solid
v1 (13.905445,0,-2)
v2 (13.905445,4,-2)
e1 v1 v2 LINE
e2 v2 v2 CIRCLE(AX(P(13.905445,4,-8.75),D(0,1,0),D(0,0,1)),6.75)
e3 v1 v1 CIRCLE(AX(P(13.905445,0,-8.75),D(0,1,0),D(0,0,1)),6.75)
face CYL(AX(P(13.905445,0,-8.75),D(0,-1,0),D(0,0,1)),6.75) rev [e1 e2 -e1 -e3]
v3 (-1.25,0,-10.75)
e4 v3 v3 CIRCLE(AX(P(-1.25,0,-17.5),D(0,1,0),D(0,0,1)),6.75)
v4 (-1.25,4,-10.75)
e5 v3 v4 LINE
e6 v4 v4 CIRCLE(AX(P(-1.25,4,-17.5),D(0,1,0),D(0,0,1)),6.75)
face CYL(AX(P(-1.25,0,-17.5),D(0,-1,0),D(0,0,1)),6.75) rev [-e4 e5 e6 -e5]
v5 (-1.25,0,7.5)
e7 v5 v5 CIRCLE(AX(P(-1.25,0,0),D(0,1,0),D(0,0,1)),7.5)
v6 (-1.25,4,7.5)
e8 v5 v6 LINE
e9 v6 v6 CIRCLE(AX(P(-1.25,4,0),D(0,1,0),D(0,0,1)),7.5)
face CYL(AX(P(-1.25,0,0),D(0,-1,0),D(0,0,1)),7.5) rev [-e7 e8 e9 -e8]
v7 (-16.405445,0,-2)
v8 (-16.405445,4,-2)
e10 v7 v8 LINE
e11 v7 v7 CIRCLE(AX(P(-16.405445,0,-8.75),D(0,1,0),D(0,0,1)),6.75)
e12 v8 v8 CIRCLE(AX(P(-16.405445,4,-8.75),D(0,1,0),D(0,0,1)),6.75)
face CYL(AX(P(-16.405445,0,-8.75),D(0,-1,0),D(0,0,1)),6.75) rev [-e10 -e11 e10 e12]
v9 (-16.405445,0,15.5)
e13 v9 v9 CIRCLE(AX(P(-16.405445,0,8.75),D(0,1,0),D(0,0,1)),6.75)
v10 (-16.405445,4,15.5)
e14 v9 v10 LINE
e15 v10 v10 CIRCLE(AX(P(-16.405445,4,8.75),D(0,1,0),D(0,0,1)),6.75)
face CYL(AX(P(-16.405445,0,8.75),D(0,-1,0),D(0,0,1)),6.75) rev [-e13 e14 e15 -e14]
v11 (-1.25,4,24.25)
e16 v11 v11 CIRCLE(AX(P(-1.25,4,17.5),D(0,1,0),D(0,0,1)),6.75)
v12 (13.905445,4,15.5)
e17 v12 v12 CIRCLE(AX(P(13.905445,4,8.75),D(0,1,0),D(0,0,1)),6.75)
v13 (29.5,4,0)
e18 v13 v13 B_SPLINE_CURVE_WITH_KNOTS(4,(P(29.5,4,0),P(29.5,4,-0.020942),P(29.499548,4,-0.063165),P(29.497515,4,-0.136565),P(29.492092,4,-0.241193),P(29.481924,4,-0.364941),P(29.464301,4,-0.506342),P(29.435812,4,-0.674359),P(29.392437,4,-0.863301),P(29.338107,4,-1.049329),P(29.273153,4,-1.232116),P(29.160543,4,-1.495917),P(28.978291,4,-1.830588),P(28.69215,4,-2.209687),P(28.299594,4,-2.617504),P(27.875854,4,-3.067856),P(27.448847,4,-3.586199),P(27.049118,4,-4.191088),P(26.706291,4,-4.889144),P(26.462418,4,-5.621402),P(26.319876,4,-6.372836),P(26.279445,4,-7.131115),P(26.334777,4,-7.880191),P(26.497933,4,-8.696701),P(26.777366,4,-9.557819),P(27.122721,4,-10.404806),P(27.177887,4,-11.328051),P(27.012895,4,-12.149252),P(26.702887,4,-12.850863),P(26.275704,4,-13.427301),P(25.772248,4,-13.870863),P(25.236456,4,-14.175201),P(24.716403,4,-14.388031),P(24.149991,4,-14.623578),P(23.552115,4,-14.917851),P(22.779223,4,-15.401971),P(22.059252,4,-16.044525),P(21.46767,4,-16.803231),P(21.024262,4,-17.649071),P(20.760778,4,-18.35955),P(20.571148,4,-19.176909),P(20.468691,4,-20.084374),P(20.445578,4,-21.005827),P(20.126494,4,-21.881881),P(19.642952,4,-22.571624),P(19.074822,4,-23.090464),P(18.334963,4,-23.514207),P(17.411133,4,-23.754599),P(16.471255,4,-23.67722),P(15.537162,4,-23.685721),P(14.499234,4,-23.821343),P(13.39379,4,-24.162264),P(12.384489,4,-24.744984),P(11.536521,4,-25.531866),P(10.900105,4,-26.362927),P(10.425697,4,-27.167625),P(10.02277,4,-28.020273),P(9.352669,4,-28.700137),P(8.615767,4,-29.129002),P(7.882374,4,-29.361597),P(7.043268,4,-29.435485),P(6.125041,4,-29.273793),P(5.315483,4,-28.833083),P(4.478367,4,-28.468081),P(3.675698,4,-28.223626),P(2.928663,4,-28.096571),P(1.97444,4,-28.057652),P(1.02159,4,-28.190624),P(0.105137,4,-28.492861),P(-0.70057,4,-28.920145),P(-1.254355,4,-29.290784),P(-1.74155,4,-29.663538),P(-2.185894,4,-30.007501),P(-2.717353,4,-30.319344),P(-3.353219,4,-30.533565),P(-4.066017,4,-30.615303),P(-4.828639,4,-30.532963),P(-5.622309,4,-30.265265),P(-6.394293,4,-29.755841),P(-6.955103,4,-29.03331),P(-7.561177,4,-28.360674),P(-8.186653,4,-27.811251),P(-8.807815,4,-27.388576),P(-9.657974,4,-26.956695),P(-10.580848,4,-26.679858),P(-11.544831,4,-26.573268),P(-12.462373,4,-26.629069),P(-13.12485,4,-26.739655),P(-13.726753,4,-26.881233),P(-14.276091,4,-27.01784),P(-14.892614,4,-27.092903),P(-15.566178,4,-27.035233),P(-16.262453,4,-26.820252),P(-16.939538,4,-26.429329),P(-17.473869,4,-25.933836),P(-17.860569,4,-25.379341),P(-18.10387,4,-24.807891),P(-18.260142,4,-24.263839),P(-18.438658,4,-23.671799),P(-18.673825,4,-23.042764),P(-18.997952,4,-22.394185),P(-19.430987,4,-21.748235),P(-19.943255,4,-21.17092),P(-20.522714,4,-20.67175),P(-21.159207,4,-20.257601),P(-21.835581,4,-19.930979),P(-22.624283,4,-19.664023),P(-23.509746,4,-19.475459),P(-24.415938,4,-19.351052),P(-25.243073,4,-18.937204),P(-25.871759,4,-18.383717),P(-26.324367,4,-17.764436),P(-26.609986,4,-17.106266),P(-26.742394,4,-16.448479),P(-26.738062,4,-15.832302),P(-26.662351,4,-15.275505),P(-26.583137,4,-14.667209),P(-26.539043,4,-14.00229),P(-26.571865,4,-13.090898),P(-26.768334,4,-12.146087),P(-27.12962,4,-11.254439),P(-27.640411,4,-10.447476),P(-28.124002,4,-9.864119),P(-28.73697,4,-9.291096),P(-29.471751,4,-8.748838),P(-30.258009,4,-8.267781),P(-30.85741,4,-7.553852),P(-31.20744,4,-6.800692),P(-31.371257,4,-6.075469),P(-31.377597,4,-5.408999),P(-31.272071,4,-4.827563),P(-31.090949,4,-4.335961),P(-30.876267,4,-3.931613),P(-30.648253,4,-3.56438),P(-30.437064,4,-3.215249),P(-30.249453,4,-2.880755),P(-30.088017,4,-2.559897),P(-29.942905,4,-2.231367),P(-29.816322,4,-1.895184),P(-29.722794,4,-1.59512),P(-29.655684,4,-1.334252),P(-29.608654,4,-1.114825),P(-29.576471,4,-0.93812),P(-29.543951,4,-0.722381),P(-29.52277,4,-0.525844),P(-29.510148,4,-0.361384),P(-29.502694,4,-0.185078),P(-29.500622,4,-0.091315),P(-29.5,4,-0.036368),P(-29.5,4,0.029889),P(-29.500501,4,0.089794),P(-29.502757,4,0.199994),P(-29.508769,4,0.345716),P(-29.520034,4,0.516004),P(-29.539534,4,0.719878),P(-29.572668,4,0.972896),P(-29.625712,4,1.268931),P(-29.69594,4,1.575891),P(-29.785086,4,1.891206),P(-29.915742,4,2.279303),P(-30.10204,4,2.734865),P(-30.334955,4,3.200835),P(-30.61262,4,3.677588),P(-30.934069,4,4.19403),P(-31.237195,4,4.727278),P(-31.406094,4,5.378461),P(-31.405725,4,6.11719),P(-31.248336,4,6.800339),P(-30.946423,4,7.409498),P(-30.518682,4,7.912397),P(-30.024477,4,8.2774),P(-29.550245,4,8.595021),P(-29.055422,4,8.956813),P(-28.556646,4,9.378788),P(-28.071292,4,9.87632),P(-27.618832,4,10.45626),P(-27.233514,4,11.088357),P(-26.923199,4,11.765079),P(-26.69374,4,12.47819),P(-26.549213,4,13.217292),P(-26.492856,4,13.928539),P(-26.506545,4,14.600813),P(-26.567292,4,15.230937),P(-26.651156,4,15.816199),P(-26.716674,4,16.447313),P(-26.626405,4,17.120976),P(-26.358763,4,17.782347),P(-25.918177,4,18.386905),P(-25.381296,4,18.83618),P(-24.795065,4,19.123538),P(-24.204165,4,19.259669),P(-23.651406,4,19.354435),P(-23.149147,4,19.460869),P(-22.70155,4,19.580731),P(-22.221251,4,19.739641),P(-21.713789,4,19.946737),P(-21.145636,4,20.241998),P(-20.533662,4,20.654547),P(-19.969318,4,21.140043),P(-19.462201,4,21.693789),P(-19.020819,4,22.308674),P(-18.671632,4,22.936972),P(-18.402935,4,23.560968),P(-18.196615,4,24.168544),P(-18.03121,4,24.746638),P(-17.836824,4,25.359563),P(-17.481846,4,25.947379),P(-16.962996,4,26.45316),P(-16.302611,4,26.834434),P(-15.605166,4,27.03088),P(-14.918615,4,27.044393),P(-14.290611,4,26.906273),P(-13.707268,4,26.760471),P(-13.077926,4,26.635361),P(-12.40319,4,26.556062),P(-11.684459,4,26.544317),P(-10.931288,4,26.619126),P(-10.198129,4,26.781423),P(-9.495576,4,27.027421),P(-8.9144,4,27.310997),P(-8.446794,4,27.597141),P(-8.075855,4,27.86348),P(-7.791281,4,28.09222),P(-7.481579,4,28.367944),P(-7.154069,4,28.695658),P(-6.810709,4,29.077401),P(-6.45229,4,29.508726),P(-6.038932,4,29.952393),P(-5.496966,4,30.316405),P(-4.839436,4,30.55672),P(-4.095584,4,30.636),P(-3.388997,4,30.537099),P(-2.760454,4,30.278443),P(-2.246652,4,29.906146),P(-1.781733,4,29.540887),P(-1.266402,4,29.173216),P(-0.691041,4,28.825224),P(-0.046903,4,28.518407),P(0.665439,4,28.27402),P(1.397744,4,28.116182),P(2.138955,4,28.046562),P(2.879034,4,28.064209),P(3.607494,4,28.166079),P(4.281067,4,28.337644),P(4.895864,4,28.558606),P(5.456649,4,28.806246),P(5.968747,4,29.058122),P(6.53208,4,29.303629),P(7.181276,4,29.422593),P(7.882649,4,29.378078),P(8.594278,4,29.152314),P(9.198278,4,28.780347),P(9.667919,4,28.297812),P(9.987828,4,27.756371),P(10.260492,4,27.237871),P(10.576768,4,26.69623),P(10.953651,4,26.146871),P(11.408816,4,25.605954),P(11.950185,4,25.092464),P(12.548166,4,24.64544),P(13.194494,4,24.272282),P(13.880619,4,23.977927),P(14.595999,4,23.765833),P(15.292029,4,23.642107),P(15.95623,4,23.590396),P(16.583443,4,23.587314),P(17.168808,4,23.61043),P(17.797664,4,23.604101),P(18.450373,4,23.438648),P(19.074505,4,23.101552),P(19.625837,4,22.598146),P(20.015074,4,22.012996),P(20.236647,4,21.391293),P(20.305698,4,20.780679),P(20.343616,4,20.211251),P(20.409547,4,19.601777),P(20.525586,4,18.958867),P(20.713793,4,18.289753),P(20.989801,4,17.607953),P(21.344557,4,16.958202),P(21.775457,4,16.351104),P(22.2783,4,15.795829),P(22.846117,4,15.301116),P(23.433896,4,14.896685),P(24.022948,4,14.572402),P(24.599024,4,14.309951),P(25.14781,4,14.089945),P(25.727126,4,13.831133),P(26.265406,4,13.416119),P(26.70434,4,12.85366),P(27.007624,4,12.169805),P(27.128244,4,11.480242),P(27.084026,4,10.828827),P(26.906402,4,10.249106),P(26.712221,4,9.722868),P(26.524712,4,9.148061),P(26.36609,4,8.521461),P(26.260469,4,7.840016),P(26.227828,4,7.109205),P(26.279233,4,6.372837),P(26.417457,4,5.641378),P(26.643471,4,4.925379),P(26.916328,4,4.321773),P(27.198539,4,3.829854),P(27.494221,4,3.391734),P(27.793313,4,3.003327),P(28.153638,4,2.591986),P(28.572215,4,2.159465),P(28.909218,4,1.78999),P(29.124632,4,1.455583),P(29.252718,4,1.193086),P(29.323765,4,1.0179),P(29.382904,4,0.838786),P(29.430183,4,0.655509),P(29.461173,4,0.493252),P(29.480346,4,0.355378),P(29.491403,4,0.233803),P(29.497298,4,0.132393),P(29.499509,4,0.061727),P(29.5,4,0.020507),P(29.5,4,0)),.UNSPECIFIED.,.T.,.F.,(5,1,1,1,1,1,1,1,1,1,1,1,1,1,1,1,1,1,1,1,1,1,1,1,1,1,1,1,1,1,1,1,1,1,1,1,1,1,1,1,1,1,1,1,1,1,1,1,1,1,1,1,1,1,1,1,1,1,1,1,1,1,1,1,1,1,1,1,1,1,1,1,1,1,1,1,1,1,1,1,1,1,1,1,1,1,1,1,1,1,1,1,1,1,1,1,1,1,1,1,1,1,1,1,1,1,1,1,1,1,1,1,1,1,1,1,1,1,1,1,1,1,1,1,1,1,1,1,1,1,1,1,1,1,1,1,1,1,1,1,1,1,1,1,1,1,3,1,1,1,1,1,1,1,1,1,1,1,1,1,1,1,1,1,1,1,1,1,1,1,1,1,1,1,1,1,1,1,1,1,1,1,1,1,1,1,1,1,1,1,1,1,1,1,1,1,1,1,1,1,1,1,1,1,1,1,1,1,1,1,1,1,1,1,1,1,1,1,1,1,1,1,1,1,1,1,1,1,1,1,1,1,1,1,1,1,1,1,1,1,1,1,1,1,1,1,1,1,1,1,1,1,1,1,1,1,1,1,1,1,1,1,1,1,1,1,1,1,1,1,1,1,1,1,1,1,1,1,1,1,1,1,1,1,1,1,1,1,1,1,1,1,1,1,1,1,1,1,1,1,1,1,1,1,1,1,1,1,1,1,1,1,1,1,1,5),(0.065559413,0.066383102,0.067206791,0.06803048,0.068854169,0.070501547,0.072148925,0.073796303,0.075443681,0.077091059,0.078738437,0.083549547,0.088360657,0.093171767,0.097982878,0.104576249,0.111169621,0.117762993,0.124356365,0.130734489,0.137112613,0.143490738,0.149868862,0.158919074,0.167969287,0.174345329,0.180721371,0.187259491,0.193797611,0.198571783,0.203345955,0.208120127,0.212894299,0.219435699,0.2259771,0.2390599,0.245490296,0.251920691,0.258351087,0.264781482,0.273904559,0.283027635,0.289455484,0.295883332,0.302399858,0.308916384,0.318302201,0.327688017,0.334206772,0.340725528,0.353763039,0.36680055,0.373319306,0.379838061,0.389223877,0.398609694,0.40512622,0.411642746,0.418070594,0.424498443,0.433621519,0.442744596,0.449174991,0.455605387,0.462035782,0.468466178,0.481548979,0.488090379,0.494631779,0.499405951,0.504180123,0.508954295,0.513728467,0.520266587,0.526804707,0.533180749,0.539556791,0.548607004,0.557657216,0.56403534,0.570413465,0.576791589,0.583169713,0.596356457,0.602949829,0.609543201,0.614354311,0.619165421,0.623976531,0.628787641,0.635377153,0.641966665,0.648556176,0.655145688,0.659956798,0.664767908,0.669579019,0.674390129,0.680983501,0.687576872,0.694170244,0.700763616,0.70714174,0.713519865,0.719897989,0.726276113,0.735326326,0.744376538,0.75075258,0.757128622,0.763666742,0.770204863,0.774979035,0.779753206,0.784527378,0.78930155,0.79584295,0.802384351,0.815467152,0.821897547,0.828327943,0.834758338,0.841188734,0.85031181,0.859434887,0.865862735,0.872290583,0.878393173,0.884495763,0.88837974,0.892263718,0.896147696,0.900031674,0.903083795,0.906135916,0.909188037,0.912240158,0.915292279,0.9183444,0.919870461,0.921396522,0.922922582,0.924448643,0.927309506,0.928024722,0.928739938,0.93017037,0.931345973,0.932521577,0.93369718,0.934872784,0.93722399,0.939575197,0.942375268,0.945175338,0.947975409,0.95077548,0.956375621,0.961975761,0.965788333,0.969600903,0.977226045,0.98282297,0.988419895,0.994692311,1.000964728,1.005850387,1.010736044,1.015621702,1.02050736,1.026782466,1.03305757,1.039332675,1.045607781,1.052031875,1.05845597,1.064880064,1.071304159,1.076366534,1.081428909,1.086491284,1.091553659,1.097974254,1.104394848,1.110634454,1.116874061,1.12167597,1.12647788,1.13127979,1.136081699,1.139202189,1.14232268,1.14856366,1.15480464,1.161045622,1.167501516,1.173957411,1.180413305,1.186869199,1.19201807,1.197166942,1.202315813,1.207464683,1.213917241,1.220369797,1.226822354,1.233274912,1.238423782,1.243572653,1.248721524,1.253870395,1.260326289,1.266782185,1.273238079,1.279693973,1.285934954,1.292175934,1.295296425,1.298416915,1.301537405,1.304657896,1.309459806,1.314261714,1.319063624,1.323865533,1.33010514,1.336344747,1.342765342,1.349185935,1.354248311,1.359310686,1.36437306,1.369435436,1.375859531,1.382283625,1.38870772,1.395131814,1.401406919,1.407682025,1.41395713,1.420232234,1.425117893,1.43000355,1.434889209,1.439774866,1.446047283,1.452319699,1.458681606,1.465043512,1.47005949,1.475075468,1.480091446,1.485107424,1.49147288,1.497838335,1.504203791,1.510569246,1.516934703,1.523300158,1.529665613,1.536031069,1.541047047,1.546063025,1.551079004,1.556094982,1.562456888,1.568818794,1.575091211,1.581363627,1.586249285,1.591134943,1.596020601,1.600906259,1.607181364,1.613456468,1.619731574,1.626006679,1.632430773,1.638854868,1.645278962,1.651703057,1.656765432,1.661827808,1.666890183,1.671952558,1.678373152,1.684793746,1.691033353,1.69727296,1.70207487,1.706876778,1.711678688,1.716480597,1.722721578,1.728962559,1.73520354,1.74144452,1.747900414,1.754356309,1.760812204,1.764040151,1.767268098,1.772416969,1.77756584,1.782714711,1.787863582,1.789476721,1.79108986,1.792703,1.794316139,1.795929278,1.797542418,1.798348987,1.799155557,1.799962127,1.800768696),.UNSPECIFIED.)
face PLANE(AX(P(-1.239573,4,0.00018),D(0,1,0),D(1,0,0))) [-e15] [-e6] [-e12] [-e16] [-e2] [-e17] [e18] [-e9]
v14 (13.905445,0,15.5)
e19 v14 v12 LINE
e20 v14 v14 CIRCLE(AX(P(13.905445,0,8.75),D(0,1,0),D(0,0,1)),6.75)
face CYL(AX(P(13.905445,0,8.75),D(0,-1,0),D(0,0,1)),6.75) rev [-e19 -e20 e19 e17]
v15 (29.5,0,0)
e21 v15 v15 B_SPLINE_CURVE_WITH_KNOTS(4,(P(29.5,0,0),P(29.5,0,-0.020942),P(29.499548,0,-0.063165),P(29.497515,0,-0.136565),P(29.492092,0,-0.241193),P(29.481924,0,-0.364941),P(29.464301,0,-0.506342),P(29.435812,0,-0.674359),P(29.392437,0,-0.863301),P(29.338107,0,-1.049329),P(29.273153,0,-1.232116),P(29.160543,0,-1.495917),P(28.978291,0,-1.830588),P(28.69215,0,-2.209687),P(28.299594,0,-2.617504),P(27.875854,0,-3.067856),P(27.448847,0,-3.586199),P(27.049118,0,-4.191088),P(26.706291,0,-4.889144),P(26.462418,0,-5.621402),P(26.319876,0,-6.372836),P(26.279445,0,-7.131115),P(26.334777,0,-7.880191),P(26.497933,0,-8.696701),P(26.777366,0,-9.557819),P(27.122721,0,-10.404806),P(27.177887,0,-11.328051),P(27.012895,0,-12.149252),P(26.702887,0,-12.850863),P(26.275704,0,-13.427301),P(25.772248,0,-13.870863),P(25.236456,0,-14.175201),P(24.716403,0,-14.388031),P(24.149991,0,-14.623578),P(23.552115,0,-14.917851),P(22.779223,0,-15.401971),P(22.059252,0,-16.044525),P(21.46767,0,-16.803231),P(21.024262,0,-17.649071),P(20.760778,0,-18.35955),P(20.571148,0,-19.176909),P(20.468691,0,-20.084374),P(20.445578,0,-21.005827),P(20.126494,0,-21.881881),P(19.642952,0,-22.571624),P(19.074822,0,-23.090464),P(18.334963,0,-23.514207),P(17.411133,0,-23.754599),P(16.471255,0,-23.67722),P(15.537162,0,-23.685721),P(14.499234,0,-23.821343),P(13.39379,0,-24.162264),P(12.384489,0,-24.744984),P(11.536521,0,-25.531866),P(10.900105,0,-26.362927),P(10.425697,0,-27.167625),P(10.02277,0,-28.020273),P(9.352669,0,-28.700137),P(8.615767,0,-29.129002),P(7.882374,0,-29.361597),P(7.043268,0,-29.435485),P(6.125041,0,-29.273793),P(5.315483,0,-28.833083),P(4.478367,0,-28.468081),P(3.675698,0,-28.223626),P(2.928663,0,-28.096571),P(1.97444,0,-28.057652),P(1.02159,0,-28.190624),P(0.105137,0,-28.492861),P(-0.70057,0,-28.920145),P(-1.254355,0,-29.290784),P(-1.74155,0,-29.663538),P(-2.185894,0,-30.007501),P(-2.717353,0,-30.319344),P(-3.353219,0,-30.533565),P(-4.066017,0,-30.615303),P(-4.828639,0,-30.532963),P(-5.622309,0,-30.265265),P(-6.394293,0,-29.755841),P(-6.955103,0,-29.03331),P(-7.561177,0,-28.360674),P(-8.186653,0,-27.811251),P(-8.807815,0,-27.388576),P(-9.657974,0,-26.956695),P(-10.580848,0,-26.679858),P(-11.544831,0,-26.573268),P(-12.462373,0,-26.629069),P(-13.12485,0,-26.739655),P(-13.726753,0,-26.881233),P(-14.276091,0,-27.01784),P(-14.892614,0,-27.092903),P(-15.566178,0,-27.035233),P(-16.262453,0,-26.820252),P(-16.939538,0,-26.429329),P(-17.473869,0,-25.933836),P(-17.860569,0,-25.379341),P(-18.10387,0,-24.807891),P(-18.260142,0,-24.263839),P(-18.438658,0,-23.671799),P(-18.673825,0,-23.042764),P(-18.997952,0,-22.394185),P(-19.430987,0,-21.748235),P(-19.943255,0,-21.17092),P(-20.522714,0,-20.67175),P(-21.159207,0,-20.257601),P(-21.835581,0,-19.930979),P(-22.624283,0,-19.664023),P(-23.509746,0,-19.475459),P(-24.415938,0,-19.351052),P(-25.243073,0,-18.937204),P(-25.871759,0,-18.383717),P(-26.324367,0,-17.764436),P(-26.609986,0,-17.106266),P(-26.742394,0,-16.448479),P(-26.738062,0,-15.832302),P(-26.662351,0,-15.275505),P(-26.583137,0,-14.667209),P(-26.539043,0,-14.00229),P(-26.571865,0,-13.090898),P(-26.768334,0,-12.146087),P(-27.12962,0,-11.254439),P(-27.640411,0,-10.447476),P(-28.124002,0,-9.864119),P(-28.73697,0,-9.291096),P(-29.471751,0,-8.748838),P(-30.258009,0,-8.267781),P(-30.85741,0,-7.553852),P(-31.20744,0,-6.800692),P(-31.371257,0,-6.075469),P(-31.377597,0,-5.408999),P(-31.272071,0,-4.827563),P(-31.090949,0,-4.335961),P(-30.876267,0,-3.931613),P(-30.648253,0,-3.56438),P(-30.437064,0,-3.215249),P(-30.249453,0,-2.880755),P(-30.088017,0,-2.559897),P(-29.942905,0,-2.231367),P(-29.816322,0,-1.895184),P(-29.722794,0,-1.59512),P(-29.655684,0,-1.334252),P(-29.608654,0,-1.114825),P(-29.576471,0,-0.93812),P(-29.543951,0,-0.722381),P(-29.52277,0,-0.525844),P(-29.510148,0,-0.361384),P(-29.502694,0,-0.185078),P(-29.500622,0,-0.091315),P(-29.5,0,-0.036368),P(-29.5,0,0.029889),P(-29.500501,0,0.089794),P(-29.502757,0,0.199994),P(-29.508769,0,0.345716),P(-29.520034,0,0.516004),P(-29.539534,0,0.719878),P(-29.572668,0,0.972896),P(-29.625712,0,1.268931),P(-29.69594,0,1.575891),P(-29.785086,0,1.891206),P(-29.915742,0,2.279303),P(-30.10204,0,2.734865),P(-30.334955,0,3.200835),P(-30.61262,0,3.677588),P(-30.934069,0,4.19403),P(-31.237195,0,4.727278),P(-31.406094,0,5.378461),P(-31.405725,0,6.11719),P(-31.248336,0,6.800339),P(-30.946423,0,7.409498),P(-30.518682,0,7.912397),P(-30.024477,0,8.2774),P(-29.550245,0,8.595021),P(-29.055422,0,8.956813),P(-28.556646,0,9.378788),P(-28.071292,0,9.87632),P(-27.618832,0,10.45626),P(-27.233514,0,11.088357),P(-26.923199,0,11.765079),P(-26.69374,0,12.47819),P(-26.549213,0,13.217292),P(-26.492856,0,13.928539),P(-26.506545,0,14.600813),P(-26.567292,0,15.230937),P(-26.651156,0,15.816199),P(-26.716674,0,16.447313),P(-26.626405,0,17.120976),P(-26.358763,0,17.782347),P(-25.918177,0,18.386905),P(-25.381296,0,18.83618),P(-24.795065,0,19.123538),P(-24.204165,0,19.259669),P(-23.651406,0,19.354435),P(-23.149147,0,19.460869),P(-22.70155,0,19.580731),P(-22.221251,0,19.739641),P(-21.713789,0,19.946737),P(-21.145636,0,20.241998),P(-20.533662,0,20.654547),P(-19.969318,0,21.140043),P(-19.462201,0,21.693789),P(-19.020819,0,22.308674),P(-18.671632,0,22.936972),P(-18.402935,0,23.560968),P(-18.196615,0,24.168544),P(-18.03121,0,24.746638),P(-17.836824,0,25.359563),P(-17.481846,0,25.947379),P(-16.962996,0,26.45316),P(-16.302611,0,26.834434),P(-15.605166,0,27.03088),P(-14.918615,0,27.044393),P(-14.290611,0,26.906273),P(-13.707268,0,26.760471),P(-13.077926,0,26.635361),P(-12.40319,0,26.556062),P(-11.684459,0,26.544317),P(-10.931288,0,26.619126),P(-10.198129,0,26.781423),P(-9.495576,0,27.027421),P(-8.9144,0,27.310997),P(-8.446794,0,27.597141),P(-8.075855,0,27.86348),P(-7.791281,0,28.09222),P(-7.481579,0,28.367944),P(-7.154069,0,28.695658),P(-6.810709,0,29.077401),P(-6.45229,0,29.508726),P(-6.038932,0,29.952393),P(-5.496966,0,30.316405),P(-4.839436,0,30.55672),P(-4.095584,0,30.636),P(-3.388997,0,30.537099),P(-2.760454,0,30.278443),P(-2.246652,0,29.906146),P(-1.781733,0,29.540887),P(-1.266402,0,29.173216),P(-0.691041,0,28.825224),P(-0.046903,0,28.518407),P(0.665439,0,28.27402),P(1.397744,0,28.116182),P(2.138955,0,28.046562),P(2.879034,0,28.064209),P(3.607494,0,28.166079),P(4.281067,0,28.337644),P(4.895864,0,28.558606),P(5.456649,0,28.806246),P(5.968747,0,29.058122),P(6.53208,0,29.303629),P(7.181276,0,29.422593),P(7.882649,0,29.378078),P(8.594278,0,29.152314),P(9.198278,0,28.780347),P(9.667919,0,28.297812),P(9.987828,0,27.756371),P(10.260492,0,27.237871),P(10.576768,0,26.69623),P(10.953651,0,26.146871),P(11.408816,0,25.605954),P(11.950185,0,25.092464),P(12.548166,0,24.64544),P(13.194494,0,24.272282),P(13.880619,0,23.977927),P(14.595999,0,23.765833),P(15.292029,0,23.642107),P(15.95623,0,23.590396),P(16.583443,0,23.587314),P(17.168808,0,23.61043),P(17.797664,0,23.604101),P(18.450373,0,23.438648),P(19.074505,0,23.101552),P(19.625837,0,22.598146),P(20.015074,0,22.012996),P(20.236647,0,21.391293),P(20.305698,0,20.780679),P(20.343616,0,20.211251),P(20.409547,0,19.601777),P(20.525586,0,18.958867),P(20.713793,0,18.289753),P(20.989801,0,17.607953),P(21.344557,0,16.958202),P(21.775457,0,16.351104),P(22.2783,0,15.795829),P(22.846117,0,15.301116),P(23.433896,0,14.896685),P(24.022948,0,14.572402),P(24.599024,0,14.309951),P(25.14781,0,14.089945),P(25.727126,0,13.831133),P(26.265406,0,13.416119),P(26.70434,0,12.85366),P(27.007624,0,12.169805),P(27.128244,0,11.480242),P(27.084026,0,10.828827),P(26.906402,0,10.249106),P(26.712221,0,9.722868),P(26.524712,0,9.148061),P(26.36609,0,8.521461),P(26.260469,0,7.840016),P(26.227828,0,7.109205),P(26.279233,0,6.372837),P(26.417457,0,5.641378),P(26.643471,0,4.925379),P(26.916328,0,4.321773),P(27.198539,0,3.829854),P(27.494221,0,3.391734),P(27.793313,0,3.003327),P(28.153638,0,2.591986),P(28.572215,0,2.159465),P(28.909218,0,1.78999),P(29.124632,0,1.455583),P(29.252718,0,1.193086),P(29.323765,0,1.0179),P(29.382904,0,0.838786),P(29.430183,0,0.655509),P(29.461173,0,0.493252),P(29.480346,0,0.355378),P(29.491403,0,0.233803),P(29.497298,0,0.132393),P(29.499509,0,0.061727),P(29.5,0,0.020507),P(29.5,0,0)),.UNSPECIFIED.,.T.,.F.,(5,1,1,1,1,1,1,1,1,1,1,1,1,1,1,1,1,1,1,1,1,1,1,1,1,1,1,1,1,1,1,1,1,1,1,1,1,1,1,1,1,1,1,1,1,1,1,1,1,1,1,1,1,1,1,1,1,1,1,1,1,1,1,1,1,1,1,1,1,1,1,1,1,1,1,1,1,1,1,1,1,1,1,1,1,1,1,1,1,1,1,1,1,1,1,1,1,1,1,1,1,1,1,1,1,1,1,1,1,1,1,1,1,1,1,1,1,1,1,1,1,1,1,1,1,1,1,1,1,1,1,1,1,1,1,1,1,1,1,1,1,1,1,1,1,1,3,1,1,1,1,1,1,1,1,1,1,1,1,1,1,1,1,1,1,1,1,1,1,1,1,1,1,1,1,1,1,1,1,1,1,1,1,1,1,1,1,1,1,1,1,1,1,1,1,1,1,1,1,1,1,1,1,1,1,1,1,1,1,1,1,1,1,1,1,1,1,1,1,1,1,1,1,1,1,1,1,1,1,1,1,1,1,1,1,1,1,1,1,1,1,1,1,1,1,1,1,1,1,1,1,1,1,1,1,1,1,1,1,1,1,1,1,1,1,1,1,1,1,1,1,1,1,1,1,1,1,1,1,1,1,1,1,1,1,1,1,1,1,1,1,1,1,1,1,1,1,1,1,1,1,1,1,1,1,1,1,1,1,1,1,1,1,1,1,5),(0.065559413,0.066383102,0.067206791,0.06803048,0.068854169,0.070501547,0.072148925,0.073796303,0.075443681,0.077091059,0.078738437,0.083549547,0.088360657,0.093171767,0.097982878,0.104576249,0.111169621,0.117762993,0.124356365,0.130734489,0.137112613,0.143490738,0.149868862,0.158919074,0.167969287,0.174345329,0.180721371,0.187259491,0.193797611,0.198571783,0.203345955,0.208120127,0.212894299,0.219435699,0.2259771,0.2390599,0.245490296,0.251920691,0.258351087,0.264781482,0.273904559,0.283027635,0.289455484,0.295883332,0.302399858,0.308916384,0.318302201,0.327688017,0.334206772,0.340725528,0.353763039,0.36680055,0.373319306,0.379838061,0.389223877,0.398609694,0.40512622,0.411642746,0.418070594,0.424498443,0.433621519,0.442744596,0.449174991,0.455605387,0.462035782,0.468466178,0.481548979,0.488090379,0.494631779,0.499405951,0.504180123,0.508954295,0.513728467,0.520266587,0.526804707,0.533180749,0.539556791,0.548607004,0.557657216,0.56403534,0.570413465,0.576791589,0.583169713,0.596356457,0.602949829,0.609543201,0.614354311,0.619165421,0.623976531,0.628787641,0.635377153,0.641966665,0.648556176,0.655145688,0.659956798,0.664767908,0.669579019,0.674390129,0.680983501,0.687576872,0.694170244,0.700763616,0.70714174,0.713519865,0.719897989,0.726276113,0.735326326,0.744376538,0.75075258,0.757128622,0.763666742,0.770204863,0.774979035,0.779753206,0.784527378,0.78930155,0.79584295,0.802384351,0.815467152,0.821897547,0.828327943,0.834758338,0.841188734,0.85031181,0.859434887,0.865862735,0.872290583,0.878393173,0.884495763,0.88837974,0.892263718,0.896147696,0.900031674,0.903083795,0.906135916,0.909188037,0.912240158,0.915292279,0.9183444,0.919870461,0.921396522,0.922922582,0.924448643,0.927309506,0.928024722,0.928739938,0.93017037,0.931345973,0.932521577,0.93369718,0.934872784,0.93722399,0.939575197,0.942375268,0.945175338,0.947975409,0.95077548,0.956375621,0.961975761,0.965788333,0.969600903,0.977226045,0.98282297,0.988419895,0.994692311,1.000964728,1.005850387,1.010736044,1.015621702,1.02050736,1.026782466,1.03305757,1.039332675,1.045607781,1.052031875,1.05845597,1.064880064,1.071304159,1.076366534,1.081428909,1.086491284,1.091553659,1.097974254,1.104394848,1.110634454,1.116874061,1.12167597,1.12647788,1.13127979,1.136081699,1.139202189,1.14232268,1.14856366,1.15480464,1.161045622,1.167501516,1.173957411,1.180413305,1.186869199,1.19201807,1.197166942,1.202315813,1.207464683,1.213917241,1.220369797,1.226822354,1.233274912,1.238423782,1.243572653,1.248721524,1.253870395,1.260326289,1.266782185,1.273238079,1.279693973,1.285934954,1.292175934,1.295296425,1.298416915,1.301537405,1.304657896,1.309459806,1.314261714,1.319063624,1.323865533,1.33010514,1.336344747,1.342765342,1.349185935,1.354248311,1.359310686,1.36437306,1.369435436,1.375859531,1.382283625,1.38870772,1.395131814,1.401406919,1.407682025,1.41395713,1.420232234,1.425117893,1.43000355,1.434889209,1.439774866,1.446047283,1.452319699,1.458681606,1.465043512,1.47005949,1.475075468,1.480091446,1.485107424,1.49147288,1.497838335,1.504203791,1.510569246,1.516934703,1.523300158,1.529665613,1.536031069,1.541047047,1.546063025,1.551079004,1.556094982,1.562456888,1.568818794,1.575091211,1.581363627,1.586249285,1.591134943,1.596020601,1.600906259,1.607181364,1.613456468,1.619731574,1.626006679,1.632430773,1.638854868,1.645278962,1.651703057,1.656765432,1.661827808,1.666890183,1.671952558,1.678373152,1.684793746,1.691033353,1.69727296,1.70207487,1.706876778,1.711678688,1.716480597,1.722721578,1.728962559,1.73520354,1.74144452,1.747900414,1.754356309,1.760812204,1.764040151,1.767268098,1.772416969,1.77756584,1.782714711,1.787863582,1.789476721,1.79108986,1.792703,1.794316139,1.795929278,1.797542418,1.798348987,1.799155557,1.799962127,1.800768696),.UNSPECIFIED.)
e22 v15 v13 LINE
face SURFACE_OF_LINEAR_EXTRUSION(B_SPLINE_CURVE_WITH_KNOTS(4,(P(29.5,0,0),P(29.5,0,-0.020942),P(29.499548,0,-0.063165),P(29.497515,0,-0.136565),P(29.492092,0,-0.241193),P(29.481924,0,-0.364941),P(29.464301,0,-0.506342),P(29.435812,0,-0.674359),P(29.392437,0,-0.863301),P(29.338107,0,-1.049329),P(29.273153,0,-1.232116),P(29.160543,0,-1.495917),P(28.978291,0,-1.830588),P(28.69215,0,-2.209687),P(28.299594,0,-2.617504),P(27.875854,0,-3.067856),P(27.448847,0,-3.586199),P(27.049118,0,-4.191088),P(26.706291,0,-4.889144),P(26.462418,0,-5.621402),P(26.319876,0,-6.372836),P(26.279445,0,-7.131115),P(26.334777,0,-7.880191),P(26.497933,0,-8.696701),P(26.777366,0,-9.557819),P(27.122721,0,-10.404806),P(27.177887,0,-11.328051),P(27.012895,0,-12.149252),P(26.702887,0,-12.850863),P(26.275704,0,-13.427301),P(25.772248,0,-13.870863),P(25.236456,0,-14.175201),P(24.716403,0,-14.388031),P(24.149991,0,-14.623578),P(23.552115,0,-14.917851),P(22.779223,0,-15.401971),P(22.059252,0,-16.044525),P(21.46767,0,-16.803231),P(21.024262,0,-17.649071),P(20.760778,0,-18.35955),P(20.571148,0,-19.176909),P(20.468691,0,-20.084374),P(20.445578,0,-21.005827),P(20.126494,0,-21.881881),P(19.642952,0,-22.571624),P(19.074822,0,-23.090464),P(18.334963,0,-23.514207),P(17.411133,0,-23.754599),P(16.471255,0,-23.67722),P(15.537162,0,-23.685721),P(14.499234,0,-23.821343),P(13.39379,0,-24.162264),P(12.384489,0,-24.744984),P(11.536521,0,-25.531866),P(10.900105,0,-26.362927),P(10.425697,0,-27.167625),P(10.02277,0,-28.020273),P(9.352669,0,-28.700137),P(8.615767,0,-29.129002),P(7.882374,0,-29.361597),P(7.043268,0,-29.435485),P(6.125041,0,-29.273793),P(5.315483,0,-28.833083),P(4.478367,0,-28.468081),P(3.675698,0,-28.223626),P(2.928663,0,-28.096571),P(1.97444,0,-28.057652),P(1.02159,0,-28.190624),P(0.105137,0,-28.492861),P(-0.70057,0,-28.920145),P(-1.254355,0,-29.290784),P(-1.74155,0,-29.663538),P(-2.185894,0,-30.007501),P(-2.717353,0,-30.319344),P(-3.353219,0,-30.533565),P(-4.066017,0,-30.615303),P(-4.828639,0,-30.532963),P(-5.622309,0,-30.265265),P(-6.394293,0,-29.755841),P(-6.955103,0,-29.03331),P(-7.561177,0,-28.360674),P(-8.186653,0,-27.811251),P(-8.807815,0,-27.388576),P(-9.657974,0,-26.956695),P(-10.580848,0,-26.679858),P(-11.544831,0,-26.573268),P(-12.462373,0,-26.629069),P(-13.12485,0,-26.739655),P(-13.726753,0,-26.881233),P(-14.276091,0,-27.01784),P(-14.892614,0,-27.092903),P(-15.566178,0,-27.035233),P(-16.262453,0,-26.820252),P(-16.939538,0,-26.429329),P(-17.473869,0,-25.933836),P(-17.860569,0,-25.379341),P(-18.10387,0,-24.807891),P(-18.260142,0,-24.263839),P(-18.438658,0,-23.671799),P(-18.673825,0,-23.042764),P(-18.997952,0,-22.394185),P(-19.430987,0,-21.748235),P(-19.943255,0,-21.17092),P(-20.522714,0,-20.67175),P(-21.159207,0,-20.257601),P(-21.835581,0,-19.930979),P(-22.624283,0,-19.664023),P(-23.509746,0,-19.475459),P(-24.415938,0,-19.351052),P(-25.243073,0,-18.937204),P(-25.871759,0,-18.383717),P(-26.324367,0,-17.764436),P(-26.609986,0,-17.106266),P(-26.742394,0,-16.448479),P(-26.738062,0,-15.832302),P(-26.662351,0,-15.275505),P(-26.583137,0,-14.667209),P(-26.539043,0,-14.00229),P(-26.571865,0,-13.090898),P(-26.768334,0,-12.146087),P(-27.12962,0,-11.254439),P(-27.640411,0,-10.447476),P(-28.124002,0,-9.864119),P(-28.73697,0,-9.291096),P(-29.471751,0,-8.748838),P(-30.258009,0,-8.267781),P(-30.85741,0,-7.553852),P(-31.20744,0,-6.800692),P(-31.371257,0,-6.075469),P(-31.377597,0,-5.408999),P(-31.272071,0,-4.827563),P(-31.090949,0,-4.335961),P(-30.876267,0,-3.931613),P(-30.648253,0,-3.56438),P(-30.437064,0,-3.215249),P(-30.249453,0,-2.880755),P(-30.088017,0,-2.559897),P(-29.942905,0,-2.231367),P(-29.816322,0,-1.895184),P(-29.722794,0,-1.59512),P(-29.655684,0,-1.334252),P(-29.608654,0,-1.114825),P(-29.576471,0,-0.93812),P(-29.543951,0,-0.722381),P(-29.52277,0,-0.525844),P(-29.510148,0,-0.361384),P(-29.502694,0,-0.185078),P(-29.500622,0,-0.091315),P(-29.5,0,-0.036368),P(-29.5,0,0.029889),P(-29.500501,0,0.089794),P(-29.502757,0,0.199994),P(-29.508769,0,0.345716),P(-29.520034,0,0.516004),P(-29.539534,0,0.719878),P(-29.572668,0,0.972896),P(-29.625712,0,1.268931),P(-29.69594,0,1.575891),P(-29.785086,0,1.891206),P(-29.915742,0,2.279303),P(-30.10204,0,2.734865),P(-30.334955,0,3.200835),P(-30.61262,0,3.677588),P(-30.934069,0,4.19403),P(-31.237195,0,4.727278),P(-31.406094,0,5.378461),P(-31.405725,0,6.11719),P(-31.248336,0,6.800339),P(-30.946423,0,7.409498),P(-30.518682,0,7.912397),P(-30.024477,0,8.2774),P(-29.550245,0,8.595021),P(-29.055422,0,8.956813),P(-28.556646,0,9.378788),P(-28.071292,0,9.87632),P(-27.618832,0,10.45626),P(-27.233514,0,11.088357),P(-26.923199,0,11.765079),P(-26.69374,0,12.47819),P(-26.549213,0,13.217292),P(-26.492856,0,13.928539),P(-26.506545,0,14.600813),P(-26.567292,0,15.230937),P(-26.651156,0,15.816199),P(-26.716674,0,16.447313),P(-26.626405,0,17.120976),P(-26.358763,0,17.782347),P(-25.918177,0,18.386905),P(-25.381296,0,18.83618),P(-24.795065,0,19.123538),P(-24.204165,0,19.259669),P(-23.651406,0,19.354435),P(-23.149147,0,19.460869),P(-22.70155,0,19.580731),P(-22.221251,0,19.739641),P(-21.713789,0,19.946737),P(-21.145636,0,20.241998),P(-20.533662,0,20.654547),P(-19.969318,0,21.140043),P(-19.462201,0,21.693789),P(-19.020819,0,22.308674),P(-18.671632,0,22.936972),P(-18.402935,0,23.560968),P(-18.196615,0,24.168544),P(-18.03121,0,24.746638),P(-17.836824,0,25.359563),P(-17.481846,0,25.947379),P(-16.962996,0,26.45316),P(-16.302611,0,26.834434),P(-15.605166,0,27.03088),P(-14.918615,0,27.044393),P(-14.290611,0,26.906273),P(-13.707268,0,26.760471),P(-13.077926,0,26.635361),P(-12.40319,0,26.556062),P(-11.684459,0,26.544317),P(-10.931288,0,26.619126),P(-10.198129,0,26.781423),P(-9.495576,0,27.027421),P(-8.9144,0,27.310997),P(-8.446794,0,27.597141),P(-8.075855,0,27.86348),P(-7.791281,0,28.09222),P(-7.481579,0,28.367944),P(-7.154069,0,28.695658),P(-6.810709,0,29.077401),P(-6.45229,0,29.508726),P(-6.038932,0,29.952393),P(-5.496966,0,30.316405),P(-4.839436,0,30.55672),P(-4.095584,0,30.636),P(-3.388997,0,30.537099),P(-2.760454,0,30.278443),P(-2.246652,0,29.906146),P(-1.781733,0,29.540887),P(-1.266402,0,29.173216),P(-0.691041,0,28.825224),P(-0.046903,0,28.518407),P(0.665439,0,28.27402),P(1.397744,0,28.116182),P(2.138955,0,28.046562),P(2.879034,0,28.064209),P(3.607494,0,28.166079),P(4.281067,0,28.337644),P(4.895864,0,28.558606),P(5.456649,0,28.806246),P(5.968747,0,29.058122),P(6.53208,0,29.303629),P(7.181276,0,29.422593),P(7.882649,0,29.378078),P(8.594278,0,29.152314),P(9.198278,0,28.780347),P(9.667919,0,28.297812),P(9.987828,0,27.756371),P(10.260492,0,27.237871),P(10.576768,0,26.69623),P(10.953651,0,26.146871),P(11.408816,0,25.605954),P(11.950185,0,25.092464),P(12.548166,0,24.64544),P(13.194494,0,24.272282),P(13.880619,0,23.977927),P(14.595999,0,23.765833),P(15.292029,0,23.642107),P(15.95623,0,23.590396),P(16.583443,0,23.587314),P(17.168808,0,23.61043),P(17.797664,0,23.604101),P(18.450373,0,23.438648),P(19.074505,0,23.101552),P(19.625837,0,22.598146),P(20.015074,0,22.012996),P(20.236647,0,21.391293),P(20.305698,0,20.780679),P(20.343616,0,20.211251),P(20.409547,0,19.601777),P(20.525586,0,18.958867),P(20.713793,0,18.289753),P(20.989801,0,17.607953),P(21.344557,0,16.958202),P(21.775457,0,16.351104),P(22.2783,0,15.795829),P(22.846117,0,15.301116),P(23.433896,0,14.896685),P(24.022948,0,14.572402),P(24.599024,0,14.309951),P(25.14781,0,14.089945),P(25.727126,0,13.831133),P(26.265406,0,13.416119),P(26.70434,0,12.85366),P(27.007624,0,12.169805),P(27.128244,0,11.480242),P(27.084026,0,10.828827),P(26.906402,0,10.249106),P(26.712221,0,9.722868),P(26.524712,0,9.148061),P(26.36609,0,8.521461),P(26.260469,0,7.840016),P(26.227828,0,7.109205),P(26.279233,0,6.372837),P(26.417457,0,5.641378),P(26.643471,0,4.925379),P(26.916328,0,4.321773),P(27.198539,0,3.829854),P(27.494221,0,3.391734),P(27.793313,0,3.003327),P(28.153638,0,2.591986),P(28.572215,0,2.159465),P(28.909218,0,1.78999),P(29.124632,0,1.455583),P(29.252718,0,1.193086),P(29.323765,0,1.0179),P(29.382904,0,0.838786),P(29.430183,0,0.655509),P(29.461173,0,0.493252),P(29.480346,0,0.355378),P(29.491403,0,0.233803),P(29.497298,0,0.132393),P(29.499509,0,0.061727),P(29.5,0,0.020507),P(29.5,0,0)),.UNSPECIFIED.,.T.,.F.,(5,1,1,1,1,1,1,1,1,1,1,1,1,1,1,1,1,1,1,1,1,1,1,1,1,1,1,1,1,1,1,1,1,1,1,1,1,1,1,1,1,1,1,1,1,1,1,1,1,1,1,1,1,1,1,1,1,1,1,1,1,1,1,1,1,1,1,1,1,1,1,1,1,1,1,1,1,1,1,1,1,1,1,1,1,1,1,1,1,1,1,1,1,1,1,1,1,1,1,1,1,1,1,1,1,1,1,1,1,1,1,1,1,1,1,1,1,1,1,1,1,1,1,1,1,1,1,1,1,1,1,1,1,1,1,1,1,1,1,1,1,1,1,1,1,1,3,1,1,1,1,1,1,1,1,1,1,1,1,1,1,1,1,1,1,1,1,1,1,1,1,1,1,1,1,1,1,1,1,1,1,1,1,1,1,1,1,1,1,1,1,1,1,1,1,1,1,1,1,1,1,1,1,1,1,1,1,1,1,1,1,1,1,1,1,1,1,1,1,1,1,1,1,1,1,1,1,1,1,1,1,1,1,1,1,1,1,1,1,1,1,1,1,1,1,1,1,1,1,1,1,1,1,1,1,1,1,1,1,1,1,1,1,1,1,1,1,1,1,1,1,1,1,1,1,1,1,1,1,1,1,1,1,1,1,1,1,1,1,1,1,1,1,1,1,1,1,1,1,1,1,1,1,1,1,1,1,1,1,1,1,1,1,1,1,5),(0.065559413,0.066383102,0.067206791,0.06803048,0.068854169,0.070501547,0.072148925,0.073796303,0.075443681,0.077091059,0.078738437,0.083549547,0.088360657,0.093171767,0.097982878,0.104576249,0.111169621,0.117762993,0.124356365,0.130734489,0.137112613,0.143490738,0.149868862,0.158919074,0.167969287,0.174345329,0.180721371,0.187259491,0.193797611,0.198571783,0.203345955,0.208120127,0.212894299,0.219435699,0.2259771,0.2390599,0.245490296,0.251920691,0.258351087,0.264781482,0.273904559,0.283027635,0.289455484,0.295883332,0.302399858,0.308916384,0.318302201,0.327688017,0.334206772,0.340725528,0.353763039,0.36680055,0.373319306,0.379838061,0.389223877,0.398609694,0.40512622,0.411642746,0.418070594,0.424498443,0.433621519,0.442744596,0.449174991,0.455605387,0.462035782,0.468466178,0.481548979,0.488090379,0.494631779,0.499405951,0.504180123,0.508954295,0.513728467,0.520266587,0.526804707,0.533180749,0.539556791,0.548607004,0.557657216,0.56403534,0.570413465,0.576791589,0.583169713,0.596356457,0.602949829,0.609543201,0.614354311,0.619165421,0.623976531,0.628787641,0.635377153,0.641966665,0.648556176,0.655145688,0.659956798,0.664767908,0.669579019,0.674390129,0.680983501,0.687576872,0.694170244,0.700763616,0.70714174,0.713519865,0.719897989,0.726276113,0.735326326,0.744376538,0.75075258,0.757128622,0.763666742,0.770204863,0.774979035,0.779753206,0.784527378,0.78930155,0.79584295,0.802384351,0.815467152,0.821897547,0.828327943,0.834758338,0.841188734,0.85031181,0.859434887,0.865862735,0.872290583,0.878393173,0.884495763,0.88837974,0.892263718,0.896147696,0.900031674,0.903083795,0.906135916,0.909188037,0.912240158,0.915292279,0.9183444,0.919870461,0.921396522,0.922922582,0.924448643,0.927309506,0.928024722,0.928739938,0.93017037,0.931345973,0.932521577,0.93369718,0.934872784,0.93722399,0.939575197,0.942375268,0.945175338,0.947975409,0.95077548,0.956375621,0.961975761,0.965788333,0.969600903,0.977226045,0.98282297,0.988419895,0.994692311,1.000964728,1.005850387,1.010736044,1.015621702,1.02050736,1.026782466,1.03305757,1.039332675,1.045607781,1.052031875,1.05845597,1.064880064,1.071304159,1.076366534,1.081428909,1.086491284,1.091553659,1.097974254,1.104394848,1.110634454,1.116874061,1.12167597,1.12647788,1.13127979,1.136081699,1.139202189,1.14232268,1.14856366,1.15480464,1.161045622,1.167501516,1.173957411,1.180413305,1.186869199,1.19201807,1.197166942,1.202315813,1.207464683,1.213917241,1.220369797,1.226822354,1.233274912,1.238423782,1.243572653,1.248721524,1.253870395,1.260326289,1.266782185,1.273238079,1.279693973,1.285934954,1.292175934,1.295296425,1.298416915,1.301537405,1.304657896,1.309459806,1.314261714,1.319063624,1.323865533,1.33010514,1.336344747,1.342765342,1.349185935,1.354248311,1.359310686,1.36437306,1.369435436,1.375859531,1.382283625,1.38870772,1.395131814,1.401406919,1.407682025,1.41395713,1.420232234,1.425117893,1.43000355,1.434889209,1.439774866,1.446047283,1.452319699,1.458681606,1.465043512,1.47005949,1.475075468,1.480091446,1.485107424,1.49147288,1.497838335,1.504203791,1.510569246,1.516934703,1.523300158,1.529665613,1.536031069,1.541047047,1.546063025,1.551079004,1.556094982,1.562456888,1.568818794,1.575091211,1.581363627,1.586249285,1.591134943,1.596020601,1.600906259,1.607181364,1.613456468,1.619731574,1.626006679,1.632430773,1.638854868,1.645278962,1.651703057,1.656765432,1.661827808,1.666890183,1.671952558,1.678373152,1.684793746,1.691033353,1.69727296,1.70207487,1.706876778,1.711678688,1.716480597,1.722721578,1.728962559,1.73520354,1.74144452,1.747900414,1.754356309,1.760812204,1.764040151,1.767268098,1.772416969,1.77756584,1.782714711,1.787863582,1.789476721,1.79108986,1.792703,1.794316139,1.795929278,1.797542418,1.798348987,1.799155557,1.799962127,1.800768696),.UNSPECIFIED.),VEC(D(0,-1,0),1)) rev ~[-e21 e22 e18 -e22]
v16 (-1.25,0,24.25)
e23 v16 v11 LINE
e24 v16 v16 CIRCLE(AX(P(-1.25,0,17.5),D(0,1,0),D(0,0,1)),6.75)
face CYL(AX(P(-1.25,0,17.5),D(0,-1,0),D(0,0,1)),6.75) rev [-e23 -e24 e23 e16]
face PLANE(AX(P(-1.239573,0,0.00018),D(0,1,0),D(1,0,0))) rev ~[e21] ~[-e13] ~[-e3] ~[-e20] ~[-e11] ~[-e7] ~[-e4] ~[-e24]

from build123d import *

# Parameters (mm, degrees)
SKETCH2_R           = 7.5
SKETCH2_R_2         = 6.75
BOSS_EXTRUDE1_DEPTH = 4


with BuildPart() as part:
    # Sketch2 → Boss-Extrude1 (new body)
    with BuildSketch(Plane(origin=(0, 0, 0), x_dir=(1, 0, 0), z_dir=(0, 1, 0))):
        with BuildLine():
            add(Edge.make_bspline(
                [(-29.5, 0), (-29.5, -0.029889461), (-29.500501274, -0.089793684), (-29.502757018, -0.199994007), (-29.508769472, -0.345716178), (-29.520033852, -0.516003517), (-29.539534103, -0.719877503), (-29.572667516, -0.972896461), (-29.625712231, -1.26893095), (-29.695940045, -1.57589139), (-29.785086374, -1.891206047), (-29.915742198, -2.279302585), (-30.102039584, -2.734864508), (-30.33495462, -3.200835277), (-30.612620381, -3.677587615), (-30.934069136, -4.194030434), (-31.237194706, -4.727278247), (-31.406093828, -5.378461077), (-31.405725242, -6.117189546), (-31.248335855, -6.800339452), (-30.946423484, -7.409498164), (-30.518681828, -7.912396516), (-30.024477359, -8.2774), (-29.550245165, -8.59502081), (-29.055422495, -8.956812811), (-28.55664588, -9.3787878), (-28.071291676, -9.87632012), (-27.618832314, -10.456259632), (-27.233514149, -11.088357289), (-26.923199049, -11.765079402), (-26.693739537, -12.478190143), (-26.549212855, -13.217291653), (-26.492855654, -13.928538721), (-26.50654453, -14.600813106), (-26.567292453, -15.230937345), (-26.651155977, -15.816199005), (-26.716674088, -16.447312982), (-26.62640489, -17.120976223), (-26.35876322, -17.782346644), (-25.918177073, -18.386904665), (-25.381295585, -18.836179949), (-24.795065003, -19.123538297), (-24.20416515, -19.259668921), (-23.651405896, -19.354435046), (-23.149147383, -19.460869188), (-22.701549759, -19.580730556), (-22.221250647, -19.739640946), (-21.713789444, -19.946736544), (-21.145635648, -20.241997885), (-20.533661927, -20.654546757), (-19.969318303, -21.140042744), (-19.462201082, -21.693788885), (-19.020819266, -22.308674205), (-18.671631778, -22.936971669), (-18.402935315, -23.560968071), (-18.196614764, -24.168544426), (-18.031210068, -24.746637991), (-17.836824154, -25.359563266), (-17.481845811, -25.947378552), (-16.962995745, -26.453160111), (-16.302610967, -26.834433706), (-15.605165751, -27.030879963), (-14.918614525, -27.044392858), (-14.290611017, -26.906273022), (-13.707268128, -26.76047143), (-13.077925596, -26.635361227), (-12.403190484, -26.556062439), (-11.684458703, -26.544316545), (-10.931287881, -26.619125576), (-10.198128539, -26.78142275), (-9.495575967, -27.027420956), (-8.914400316, -27.31099678), (-8.446794063, -27.597140689), (-8.075855138, -27.863479964), (-7.791280828, -28.092219953), (-7.481579097, -28.367944206), (-7.154069437, -28.695657759), (-6.810708629, -29.077401095), (-6.45228992, -29.50872604), (-6.038931991, -29.952392783), (-5.496965868, -30.316405455), (-4.839435928, -30.556720046), (-4.095583639, -30.636000314), (-3.38899707, -30.537099289), (-2.760454369, -30.27844327), (-2.246651709, -29.906145821), (-1.781732794, -29.540887108), (-1.266402425, -29.173215737), (-0.691041037, -28.825223584), (-0.046903188, -28.518406928), (0.66543903, -28.274019755), (1.397743593, -28.116182477), (2.138955211, -28.046561644), (2.879034252, -28.064209022), (3.607493969, -28.166079072), (4.281067062, -28.337644457), (4.895863657, -28.558606199), (5.456648804, -28.806245606), (5.968747032, -29.058121981), (6.532079721, -29.303629152), (7.181276314, -29.422592585), (7.882649472, -29.378078239), (8.594278351, -29.15231418), (9.198278317, -28.780347353), (9.667919205, -28.297811687), (9.987828208, -27.756370733), (10.260491808, -27.237871371), (10.576767616, -26.696230387), (10.953650895, -26.146870654), (11.408815704, -25.605953656), (11.950184555, -25.092464451), (12.548165998, -24.645439778), (13.194493936, -24.272282169), (13.88061938, -23.977927385), (14.595998502, -23.765832809), (15.292028768, -23.642107021), (15.956229893, -23.590396394), (16.583442648, -23.587314002), (17.168808068, -23.610430078), (17.79766419, -23.604101232), (18.450372779, -23.438648125), (19.074505483, -23.101552224), (19.625837334, -22.598145566), (20.015074466, -22.012995768), (20.23664741, -21.391293307), (20.305698303, -20.780679307), (20.343616085, -20.211251037), (20.409546628, -19.601777164), (20.525586467, -18.958866797), (20.713792994, -18.28975274), (20.98980086, -17.607953023), (21.344557209, -16.958202197), (21.775456582, -16.351104338), (22.2782997, -15.795828927), (22.846116736, -15.301115548), (23.433895979, -14.896684969), (24.022947843, -14.572402127), (24.599023965, -14.309950779), (25.147809675, -14.089945054), (25.727125692, -13.831132821), (26.26540634, -13.416119), (26.704339817, -12.853660239), (27.007624154, -12.169804958), (27.128243584, -11.480242215), (27.084026477, -10.828826935), (26.906402138, -10.249106449), (26.7122212, -9.722867749), (26.524712227, -9.148060531), (26.36609006, -8.521461383), (26.260469314, -7.840015999), (26.22782757, -7.109204715), (26.279232637, -6.372836761), (26.417456605, -5.641378167), (26.643471264, -4.925378903), (26.916327948, -4.321772504), (27.198539155, -3.829853606), (27.494220956, -3.391733715), (27.793312582, -3.00332682), (28.153637798, -2.591986094), (28.572215157, -2.159464513), (28.90921809, -1.789990126), (29.124632087, -1.45558278), (29.252718115, -1.193085775), (29.323765371, -1.017900193), (29.382904352, -0.838786396), (29.4301833, -0.65550882), (29.461173363, -0.493251706), (29.480345975, -0.355378471), (29.491402713, -0.233802562), (29.497298265, -0.132392574), (29.499508775, -0.061726851), (29.5, -0.020506856), (29.5, 0)],
                knots=[0.063267729, 0.063267729, 0.063267729, 0.063267729, 0.063267729, 0.064441566, 0.065615404, 0.066789241, 0.067963079, 0.070310753, 0.072658428, 0.075454292, 0.078250156, 0.081046021, 0.083841885, 0.089433613, 0.095025341, 0.098832185, 0.102639028, 0.110252715, 0.115841232, 0.121429749, 0.127692743, 0.133955737, 0.138834056, 0.143712374, 0.148590693, 0.153469011, 0.15973469, 0.166000368, 0.172266046, 0.178531725, 0.184946169, 0.191360613, 0.197775057, 0.204189501, 0.209244271, 0.214299041, 0.219353812, 0.224408582, 0.230819531, 0.23723048, 0.243460713, 0.249690946, 0.254485642, 0.259280338, 0.264075034, 0.26886973, 0.271985532, 0.275101335, 0.28133294, 0.287564545, 0.293796151, 0.300242347, 0.306688543, 0.313134739, 0.319580935, 0.324722071, 0.329863208, 0.335004344, 0.34014548, 0.346588344, 0.353031207, 0.359474071, 0.365916935, 0.371058071, 0.376199207, 0.381340343, 0.386481479, 0.392927675, 0.399373872, 0.405820068, 0.412266264, 0.418497869, 0.424729474, 0.427845277, 0.430961079, 0.434076882, 0.437192685, 0.441987381, 0.446782076, 0.451576772, 0.456371468, 0.462601701, 0.468831935, 0.475242884, 0.481653832, 0.486708603, 0.491763373, 0.496818143, 0.501872914, 0.508287358, 0.514701802, 0.521116246, 0.52753069, 0.533796368, 0.540062047, 0.546327725, 0.552593403, 0.557471722, 0.56235004, 0.567228359, 0.572106677, 0.578369671, 0.584632665, 0.590985014, 0.597337363, 0.602345806, 0.607354249, 0.612362692, 0.617371135, 0.623727028, 0.630082921, 0.636438814, 0.642794707, 0.649150601, 0.655506494, 0.661862387, 0.66821828, 0.673226723, 0.678235166, 0.683243609, 0.688252052, 0.694604401, 0.70095675, 0.707219744, 0.713482738, 0.718361056, 0.723239375, 0.728117693, 0.732996012, 0.73926169, 0.745527368, 0.751793047, 0.758058725, 0.764473169, 0.770887613, 0.777302057, 0.783716501, 0.788771271, 0.793826042, 0.798880812, 0.803935582, 0.810346531, 0.81675748, 0.822987713, 0.829217947, 0.834012643, 0.838807338, 0.843602034, 0.84839673, 0.854628335, 0.860859941, 0.867091546, 0.873323151, 0.879769347, 0.886215543, 0.89266174, 0.895884838, 0.899107936, 0.904249072, 0.909390208, 0.914531344, 0.91967248, 0.921283196, 0.922893912, 0.924504628, 0.926115344, 0.92772606, 0.929336776, 0.930142134, 0.930947492, 0.93175285, 0.932558208, 0.932558208, 0.932558208, 0.932558208, 0.932558208], degree=4))
            add(Edge.make_bspline(
                [(-29.5, 0), (-29.5, 0.036368434), (-29.500621596, 0.09131546), (-29.502693558, 0.185077643), (-29.510148197, 0.361383891), (-29.522769732, 0.525843813), (-29.54395108, 0.722381474), (-29.576471154, 0.938119797), (-29.608654368, 1.114824583), (-29.655683874, 1.334251882), (-29.722794364, 1.595120267), (-29.816321761, 1.895184338), (-29.942905227, 2.231367091), (-30.088016987, 2.559897452), (-30.249453231, 2.8807547), (-30.437064271, 3.215248503), (-30.648253129, 3.564379812), (-30.876267498, 3.931612679), (-31.090948572, 4.335960631), (-31.272071343, 4.827562864), (-31.377597247, 5.408998723), (-31.371256801, 6.075468708), (-31.207440431, 6.800692052), (-30.857409833, 7.553852099), (-30.258008776, 8.267781496), (-29.471751384, 8.748838362), (-28.736969619, 9.29109616), (-28.124001795, 9.864118534), (-27.640411398, 10.447475816), (-27.129620139, 11.254439263), (-26.768334401, 12.146087348), (-26.571864682, 13.090897718), (-26.5390431, 14.002290334), (-26.583137154, 14.667208577), (-26.662351086, 15.275505033), (-26.738062356, 15.832301537), (-26.742393783, 16.44847887), (-26.609986243, 17.106265896), (-26.324367094, 17.764435854), (-25.871758618, 18.383716884), (-25.243073231, 18.937204071), (-24.415937553, 19.351052264), (-23.509745681, 19.475458796), (-22.624283062, 19.664022975), (-21.835580629, 19.930979231), (-21.159206525, 20.257601087), (-20.522714477, 20.671749686), (-19.943254967, 21.170920313), (-19.430986717, 21.748235134), (-18.99795216, 22.394184544), (-18.673825359, 23.042764023), (-18.43865844, 23.671799379), (-18.260142238, 24.263839372), (-18.103870248, 24.807890763), (-17.860568877, 25.379341345), (-17.473868703, 25.933835711), (-16.93953807, 26.429329074), (-16.262452666, 26.820251703), (-15.566178294, 27.035232605), (-14.892613884, 27.092903159), (-14.276090593, 27.017840484), (-13.726753174, 26.881233459), (-13.124850061, 26.739654937), (-12.462373078, 26.629069364), (-11.544830915, 26.573268487), (-10.580848277, 26.679857518), (-9.657973998, 26.956694821), (-8.807815259, 27.388576277), (-8.186652935, 27.811251131), (-7.561177289, 28.360674171), (-6.955102817, 29.033310248), (-6.394292752, 29.755841033), (-5.622308576, 30.265264641), (-4.828639224, 30.532963445), (-4.066017393, 30.615302953), (-3.353218763, 30.533564826), (-2.717353146, 30.319344117), (-2.185894266, 30.007500816), (-1.741550353, 29.663538306), (-1.254355438, 29.290783976), (-0.700569741, 28.920145342), (0.105136602, 28.492861252), (1.021590141, 28.190624218), (1.974439744, 28.057652278), (2.928662981, 28.096570656), (3.675697838, 28.223626259), (4.478366835, 28.468080899), (5.315482939, 28.833083009), (6.125040824, 29.273793274), (7.043268076, 29.435485293), (7.882374119, 29.361597135), (8.615767486, 29.129001695), (9.352669377, 28.700136948), (10.022769642, 28.020272694), (10.425696617, 27.167624848), (10.900105143, 26.362927183), (11.53652116, 25.531866345), (12.384489051, 24.744983774), (13.393790039, 24.162263577), (14.499234281, 23.821343127), (15.537162088, 23.685721108), (16.47125497, 23.677220105), (17.411133153, 23.754599032), (18.334963001, 23.514207306), (19.074821712, 23.090463923), (19.642951955, 22.571624355), (20.126494, 21.881881286), (20.445578227, 21.005827146), (20.468690889, 20.084374327), (20.571147832, 19.176909446), (20.760778418, 18.359550406), (21.024262441, 17.649071403), (21.467669803, 16.803230721), (22.059251597, 16.0445246), (22.779223453, 15.401971279), (23.552115308, 14.917850869), (24.149990944, 14.623578185), (24.716402567, 14.388031333), (25.23645572, 14.175200879), (25.772247932, 13.870863433), (26.275703605, 13.427301494), (26.702886564, 12.850863278), (27.012894879, 12.149252027), (27.177886779, 11.328051389), (27.122721012, 10.404805934), (26.777366021, 9.557819085), (26.497933268, 8.696701205), (26.334777417, 7.880191014), (26.279445431, 7.131115466), (26.319876141, 6.372835912), (26.462417955, 5.6214019), (26.706291447, 4.889144099), (27.049118221, 4.191088253), (27.448847466, 3.586198984), (27.875854015, 3.067856272), (28.29959419, 2.617503729), (28.692150182, 2.209686885), (28.978290933, 1.83058794), (29.160543402, 1.495917336), (29.273152612, 1.232116224), (29.338106626, 1.049329239), (29.392437424, 0.863300635), (29.43581157, 0.674358774), (29.464300856, 0.506342177), (29.481924466, 0.364940833), (29.492092234, 0.241193166), (29.497514758, 0.13656483), (29.499548141, 0.063164598), (29.5, 0.020942122), (29.5, 0)],
                knots=[0.065559413, 0.065559413, 0.065559413, 0.065559413, 0.065559413, 0.066989845, 0.067705061, 0.068420277, 0.07128114, 0.072807201, 0.074333261, 0.075859322, 0.077385383, 0.080437504, 0.083489625, 0.086541746, 0.089593867, 0.092645988, 0.095698109, 0.099582087, 0.103466065, 0.107350043, 0.11123402, 0.11733661, 0.1234392, 0.129867048, 0.136294896, 0.145417973, 0.154541049, 0.160971445, 0.16740184, 0.173832236, 0.180262631, 0.193345432, 0.199886833, 0.206428233, 0.211202405, 0.215976577, 0.220750748, 0.22552492, 0.232063041, 0.238601161, 0.244977203, 0.251353245, 0.260403457, 0.26945367, 0.275831794, 0.282209918, 0.288588043, 0.294966167, 0.301559539, 0.308152911, 0.314746282, 0.321339654, 0.326150764, 0.330961875, 0.335772985, 0.340584095, 0.347173607, 0.353763118, 0.36035263, 0.366942142, 0.371753252, 0.376564362, 0.381375472, 0.386186582, 0.392779954, 0.399373326, 0.41256007, 0.418938194, 0.425316318, 0.431694443, 0.438072567, 0.447122779, 0.456172992, 0.462549034, 0.468925076, 0.475463196, 0.482001316, 0.486775488, 0.49154966, 0.496323832, 0.501098004, 0.507639404, 0.514180804, 0.527263605, 0.533694001, 0.540124396, 0.546554792, 0.552985187, 0.562108264, 0.57123134, 0.577659189, 0.584087037, 0.590603563, 0.597120089, 0.606505906, 0.615891722, 0.622410477, 0.628929233, 0.641966744, 0.655004255, 0.661523011, 0.668041766, 0.677427582, 0.686813399, 0.693329925, 0.699846451, 0.706274299, 0.712702148, 0.721825224, 0.730948301, 0.737378696, 0.743809092, 0.750239487, 0.756669883, 0.769752683, 0.776294084, 0.782835484, 0.787609656, 0.792383828, 0.797158, 0.801932172, 0.808470292, 0.815008412, 0.821384454, 0.827760496, 0.836810709, 0.845860921, 0.852239045, 0.85861717, 0.864995294, 0.871373418, 0.87796679, 0.884560162, 0.891153534, 0.897746905, 0.902558016, 0.907369126, 0.912180236, 0.916991346, 0.918638724, 0.920286102, 0.92193348, 0.923580858, 0.925228236, 0.926875614, 0.927699303, 0.928522992, 0.929346681, 0.93017037, 0.93017037, 0.93017037, 0.93017037, 0.93017037], degree=4))
        make_face()
        with Locations(Location((-1.25, 0, 0), (0, 0, 270))):
            Circle(SKETCH2_R, mode=Mode.SUBTRACT)
        with Locations(Location((-1.25, 17.5, 0), (0, 0, 270))):
            Circle(SKETCH2_R_2, mode=Mode.SUBTRACT)
        with Locations(Location((13.905444566, 8.75, 0), (0, 0, 270))):
            Circle(SKETCH2_R_2, mode=Mode.SUBTRACT)
        with Locations(Location((13.905444566, -8.75, 0), (0, 0, 270))):
            Circle(SKETCH2_R_2, mode=Mode.SUBTRACT)
        with Locations(Location((-1.25, -17.5, 0), (0, 0, 270))):
            Circle(SKETCH2_R_2, mode=Mode.SUBTRACT)
        with Locations(Location((-16.405444566, -8.75, 0), (0, 0, 270))):
            Circle(SKETCH2_R_2, mode=Mode.SUBTRACT)
        with Locations(Location((-16.405444566, 8.75, 0), (0, 0, 270))):
            Circle(SKETCH2_R_2, mode=Mode.SUBTRACT)
    extrude(amount=BOSS_EXTRUDE1_DEPTH)


solid = part.part
